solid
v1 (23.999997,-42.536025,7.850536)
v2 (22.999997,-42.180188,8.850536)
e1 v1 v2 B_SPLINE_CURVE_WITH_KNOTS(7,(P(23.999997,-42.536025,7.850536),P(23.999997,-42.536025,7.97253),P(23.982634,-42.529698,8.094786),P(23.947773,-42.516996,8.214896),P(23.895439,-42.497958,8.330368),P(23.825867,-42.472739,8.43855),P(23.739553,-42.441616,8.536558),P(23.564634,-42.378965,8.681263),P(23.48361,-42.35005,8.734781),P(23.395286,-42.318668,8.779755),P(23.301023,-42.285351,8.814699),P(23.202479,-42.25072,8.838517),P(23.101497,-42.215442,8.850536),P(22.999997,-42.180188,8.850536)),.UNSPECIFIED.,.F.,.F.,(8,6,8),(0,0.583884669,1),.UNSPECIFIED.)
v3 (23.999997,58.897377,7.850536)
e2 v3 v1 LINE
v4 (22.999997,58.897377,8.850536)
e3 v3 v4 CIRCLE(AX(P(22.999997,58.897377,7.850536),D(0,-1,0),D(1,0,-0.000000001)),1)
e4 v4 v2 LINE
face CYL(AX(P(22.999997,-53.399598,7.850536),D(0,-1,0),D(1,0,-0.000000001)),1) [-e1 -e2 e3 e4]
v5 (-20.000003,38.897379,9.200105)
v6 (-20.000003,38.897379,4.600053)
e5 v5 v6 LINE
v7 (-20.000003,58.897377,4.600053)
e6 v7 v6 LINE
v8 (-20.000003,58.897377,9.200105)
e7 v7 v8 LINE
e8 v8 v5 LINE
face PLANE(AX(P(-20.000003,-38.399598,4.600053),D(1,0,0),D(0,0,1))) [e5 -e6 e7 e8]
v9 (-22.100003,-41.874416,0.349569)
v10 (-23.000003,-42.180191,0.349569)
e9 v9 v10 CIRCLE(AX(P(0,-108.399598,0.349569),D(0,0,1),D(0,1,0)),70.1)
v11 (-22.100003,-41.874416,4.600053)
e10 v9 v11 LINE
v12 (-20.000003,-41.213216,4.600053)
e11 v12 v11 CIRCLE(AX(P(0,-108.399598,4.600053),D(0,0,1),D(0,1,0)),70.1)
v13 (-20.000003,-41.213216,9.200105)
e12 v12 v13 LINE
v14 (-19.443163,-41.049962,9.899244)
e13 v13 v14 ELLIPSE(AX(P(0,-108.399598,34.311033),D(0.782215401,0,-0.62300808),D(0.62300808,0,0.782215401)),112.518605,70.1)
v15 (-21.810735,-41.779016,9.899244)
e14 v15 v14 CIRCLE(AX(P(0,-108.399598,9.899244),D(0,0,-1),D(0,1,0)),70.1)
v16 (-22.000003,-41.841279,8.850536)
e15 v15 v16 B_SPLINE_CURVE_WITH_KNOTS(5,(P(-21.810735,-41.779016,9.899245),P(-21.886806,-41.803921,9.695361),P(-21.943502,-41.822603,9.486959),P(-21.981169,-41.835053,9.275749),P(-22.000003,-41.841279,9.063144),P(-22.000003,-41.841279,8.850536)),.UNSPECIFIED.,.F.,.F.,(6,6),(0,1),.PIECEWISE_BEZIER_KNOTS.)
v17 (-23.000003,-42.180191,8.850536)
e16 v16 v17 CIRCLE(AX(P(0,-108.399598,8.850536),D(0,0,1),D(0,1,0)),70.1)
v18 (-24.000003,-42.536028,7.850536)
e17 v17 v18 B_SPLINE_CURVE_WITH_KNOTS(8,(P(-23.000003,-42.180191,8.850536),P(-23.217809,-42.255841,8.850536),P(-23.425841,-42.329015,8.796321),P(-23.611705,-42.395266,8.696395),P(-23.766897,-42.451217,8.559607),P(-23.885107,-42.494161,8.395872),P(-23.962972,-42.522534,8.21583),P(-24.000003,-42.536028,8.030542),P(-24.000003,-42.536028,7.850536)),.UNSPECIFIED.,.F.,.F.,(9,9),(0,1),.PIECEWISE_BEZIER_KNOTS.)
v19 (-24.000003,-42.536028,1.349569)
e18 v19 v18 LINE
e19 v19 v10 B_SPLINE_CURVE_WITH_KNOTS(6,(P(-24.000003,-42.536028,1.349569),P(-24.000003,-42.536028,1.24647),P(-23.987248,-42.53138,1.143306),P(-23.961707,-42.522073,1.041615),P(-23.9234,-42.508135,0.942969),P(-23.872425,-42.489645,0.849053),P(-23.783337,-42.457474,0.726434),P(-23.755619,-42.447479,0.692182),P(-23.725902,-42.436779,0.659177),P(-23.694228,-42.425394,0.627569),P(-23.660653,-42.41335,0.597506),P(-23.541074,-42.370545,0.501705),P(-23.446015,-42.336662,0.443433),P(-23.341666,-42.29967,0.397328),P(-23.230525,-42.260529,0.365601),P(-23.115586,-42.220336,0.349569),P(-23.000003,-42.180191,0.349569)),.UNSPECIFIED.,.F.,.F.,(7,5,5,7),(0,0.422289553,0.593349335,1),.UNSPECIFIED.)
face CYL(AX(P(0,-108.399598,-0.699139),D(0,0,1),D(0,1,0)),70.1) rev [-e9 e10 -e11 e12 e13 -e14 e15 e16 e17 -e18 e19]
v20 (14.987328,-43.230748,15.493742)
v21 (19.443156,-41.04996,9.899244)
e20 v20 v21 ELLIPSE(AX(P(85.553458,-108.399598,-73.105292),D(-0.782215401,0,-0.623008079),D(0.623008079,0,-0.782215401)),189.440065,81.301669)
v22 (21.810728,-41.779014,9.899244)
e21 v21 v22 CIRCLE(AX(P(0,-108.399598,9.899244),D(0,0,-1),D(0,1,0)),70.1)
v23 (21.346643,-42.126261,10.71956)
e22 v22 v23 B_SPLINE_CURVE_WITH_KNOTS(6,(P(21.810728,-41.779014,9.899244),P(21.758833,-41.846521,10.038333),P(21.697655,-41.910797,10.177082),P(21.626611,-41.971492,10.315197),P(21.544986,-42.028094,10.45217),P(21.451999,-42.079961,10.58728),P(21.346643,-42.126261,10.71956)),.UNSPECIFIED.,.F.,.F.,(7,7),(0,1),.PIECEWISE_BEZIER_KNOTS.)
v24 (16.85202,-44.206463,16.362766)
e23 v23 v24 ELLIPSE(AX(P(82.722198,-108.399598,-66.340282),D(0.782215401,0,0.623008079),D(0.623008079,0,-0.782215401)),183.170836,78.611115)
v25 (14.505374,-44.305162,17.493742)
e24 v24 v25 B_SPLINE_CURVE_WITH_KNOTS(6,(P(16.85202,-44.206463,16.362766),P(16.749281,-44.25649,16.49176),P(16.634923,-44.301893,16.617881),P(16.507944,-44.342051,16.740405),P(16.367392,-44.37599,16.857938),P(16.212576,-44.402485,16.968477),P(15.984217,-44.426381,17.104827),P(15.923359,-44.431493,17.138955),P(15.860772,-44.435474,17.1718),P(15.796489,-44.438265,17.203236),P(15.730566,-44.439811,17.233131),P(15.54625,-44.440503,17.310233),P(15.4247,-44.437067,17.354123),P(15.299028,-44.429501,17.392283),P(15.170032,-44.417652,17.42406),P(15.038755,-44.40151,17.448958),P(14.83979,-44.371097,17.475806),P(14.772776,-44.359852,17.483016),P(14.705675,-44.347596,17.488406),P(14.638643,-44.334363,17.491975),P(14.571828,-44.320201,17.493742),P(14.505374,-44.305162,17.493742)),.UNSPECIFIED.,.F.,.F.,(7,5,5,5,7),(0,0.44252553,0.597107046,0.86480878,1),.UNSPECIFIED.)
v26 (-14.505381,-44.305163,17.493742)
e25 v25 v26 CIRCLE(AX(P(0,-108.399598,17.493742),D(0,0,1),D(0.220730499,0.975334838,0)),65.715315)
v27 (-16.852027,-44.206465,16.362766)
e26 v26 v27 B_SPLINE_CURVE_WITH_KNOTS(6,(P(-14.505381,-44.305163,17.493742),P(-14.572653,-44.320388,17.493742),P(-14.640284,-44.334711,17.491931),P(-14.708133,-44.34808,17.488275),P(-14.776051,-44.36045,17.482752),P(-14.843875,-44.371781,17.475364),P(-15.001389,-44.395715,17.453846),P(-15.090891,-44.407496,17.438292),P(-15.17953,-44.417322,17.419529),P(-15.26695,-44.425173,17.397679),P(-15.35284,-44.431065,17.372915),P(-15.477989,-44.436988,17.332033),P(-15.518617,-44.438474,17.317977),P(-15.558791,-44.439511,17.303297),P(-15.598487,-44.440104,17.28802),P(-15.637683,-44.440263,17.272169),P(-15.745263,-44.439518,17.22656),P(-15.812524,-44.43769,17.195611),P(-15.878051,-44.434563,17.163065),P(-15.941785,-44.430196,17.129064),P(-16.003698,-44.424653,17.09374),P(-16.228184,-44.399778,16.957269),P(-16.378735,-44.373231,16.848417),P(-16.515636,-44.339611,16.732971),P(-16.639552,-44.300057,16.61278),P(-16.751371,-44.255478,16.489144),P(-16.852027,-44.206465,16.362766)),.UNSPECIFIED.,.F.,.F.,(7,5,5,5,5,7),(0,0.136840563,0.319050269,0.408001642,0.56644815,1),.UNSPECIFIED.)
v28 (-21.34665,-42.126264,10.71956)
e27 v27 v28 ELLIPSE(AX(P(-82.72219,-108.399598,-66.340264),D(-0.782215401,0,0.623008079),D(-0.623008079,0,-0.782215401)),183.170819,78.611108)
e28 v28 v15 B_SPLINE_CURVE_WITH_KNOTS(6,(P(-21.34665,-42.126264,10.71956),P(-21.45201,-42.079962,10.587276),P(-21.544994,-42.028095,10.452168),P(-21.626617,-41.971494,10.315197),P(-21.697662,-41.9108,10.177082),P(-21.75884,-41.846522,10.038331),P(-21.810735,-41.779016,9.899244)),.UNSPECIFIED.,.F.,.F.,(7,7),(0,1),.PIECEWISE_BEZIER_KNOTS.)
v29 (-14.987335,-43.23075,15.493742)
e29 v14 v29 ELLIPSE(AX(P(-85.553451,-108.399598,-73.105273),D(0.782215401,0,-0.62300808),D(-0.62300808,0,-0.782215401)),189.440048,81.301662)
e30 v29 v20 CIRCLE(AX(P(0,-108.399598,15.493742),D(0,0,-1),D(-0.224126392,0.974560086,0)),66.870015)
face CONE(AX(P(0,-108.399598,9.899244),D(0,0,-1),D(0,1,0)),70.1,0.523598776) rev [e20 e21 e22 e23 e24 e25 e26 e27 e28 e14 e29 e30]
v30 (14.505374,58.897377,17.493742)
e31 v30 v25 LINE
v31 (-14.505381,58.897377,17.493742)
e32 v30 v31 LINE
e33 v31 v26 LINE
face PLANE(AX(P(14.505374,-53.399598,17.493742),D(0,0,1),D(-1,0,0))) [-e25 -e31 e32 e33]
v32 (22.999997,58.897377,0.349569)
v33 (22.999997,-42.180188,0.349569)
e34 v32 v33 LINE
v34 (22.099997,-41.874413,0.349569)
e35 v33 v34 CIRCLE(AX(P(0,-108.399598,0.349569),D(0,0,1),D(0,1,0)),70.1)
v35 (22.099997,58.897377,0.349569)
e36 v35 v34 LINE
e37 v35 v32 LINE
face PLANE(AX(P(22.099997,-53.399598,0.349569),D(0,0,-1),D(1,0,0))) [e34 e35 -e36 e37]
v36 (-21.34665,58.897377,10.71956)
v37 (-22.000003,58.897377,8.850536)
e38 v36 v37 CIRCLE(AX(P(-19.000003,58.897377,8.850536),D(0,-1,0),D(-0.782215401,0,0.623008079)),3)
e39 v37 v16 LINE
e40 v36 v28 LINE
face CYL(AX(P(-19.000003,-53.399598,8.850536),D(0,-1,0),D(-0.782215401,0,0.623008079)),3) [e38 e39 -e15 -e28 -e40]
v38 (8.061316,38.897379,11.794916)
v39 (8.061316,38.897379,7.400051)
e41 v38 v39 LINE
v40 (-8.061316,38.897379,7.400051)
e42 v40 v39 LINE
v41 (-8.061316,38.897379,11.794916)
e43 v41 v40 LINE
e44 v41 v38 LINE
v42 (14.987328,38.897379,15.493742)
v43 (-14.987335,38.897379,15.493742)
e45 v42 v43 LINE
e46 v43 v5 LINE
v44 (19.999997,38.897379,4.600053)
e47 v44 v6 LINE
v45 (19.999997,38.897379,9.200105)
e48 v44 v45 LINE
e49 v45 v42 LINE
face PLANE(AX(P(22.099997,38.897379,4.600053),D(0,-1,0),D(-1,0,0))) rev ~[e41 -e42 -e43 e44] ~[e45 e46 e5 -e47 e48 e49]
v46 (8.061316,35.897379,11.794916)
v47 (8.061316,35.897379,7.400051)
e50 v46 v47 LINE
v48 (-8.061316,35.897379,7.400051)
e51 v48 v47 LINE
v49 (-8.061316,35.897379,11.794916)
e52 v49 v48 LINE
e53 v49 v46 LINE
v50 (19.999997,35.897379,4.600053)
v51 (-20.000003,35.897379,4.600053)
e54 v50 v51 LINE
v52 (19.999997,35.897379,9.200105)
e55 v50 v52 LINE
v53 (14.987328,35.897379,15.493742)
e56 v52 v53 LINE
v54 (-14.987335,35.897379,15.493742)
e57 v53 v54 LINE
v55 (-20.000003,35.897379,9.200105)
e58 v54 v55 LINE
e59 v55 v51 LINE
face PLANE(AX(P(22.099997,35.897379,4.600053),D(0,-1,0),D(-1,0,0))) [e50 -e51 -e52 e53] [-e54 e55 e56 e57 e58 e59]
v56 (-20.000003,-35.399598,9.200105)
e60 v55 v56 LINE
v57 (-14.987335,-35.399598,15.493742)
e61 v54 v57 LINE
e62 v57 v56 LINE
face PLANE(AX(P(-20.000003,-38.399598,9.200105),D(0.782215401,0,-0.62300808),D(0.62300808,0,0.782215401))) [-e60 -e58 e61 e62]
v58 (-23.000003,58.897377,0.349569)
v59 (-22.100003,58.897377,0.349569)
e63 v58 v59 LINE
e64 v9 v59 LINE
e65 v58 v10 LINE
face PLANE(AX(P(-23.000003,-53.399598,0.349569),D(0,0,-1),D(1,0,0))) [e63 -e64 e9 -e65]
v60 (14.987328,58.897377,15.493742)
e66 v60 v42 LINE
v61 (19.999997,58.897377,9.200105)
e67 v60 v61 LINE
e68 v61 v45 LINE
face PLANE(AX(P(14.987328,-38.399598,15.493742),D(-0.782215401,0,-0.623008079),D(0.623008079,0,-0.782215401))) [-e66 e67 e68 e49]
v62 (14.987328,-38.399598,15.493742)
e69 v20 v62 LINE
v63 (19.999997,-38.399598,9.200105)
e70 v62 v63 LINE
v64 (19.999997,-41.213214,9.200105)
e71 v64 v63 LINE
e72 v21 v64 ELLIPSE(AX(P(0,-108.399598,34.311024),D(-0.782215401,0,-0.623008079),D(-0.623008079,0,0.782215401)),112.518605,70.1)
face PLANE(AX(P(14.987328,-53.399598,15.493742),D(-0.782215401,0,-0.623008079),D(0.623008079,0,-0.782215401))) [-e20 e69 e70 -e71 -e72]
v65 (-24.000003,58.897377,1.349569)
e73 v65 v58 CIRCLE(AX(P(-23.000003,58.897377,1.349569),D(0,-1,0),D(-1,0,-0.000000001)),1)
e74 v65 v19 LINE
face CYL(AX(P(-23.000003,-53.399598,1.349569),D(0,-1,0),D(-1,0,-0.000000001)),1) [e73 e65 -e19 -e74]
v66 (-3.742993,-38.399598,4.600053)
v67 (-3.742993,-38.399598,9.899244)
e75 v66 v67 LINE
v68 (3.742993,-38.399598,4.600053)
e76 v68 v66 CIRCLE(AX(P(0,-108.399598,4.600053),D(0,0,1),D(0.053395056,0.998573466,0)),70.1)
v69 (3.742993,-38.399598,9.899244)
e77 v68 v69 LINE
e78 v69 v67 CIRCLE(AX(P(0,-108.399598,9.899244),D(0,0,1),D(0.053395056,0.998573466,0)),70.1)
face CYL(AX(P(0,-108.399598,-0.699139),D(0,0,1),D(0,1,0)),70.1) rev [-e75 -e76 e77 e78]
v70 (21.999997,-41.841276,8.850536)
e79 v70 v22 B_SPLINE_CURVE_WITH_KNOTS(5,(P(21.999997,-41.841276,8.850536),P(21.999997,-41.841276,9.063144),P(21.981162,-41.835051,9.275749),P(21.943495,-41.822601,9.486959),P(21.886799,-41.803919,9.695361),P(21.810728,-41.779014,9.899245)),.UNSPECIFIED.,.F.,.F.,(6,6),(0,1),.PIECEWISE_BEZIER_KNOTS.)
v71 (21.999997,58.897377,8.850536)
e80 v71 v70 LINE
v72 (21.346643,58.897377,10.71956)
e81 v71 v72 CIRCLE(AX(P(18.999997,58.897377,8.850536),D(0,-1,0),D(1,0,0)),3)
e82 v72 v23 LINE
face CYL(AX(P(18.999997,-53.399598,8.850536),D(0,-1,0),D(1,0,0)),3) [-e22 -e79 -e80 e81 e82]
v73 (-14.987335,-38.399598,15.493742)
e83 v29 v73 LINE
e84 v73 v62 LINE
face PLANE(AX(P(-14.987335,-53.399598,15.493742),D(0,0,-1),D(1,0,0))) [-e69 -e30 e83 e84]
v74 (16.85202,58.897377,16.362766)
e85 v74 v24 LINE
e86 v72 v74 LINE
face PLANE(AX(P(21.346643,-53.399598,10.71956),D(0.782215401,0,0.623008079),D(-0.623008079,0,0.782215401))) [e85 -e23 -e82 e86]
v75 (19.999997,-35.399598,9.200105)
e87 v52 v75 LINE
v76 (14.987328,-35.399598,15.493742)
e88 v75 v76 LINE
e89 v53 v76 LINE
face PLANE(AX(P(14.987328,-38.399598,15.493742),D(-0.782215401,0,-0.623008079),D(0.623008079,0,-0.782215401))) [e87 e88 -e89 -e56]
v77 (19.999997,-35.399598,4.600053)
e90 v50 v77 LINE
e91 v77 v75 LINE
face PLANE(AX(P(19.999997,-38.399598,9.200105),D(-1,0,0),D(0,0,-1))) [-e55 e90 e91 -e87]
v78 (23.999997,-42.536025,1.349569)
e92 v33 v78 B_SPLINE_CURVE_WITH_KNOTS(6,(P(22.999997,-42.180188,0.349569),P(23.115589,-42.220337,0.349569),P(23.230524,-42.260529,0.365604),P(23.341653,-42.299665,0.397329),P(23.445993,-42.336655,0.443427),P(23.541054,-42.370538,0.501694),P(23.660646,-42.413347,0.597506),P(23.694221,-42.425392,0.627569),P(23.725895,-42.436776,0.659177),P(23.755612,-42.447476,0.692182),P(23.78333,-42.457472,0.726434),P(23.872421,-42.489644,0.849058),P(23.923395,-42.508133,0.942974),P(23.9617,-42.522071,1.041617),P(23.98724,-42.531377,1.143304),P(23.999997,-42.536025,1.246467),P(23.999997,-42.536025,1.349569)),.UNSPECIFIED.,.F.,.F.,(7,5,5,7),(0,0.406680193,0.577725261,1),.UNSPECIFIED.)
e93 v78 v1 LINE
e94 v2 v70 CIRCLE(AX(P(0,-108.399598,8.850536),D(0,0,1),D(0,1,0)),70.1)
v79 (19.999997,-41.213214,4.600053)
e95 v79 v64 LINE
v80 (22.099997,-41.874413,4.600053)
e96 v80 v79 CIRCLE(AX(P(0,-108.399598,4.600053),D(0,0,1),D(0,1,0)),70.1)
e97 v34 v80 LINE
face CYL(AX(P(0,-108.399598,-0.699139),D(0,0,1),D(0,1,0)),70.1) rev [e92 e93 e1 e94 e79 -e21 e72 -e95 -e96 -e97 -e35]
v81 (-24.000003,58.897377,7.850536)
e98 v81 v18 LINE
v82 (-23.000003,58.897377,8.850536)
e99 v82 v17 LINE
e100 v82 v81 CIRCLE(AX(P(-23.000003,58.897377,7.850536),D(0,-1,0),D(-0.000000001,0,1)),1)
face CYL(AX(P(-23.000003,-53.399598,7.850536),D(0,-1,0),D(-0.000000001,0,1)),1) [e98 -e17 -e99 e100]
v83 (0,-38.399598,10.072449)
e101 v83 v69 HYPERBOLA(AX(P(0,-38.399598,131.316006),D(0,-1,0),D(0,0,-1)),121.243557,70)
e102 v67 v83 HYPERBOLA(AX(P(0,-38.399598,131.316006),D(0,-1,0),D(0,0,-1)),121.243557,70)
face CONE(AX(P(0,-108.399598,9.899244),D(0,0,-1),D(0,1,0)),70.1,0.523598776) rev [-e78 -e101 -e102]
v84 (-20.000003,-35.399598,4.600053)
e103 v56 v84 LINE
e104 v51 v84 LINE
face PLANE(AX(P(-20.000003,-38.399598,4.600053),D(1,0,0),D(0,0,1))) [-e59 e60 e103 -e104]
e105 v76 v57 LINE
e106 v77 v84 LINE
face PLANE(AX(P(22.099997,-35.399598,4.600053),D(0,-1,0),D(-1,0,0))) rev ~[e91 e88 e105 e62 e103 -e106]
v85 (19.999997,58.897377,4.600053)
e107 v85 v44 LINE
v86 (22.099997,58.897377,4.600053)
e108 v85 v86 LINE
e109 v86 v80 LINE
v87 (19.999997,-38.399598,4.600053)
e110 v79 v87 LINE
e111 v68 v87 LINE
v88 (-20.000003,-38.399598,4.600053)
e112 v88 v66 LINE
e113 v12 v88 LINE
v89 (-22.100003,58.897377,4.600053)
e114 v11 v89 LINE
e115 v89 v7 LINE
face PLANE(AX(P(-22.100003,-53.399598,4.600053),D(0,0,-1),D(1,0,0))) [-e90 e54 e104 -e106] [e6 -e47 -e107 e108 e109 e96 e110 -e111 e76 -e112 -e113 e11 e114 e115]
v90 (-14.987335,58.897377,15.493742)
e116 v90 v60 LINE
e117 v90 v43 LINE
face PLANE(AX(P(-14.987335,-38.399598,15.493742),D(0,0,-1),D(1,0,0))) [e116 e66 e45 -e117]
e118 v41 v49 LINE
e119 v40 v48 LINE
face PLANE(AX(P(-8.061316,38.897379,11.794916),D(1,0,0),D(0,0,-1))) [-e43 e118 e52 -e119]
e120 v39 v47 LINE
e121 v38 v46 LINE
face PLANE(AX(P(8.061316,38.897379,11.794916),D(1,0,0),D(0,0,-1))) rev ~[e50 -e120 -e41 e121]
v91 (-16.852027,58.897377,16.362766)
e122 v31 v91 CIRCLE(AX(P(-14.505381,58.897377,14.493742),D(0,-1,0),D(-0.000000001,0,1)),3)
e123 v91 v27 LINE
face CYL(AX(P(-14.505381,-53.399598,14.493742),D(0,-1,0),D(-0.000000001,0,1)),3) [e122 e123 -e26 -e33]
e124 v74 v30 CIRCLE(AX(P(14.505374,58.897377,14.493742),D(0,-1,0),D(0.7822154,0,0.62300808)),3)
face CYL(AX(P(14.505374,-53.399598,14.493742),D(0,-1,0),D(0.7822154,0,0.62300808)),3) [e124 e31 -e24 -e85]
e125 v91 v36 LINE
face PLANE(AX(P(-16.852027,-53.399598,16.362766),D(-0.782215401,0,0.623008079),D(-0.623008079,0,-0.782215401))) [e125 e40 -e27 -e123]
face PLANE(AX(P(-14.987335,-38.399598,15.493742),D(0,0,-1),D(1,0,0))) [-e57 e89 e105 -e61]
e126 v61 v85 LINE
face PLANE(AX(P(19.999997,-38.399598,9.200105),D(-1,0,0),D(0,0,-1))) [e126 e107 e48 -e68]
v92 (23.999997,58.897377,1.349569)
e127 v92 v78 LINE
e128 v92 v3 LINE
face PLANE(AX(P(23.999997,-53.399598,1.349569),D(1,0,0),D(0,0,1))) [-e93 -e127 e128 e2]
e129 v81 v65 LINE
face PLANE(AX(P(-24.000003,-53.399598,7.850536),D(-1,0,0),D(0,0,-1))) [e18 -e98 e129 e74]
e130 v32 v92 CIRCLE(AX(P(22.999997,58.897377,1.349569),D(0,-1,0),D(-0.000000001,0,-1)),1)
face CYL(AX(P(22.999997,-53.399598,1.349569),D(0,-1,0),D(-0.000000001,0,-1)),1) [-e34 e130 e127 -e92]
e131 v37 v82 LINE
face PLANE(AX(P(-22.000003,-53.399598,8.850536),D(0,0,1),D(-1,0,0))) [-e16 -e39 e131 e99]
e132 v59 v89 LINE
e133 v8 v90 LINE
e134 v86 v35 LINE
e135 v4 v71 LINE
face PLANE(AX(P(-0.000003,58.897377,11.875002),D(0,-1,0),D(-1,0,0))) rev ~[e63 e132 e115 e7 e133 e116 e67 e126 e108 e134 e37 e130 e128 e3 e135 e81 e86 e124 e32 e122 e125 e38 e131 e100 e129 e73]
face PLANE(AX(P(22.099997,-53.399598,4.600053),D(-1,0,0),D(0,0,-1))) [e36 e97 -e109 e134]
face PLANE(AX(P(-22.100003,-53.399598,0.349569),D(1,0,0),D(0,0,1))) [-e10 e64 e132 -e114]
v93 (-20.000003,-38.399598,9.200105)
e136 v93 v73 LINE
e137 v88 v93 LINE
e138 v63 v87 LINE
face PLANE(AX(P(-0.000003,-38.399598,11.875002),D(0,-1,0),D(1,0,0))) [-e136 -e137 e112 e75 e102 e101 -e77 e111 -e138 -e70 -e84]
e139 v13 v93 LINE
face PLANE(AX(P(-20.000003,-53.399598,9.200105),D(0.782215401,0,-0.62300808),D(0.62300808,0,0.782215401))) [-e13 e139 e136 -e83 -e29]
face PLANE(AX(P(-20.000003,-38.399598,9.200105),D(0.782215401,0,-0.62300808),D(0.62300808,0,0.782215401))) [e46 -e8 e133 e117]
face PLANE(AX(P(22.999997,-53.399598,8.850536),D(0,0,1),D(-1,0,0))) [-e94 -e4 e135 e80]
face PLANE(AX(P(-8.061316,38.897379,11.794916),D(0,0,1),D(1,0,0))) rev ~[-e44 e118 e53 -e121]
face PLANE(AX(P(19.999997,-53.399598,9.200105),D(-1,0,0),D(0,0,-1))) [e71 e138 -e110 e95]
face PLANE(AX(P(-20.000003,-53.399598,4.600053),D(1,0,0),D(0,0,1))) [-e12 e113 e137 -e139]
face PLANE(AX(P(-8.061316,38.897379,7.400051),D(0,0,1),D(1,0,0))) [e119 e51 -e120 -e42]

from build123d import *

# Parameters (mm, degrees)
EXTRUDE_1_DEPTH     = 58.89737674
EXTRUDE_START       = 38.399597665
EXTRUDE_2_DEPTH     = 38.399597665
EXTRUDE_3_REACH     = 66.893
SKETCH_3_W          = 44.2
SKETCH_3_H          = 3
EXTRUDE_4_REACH     = 66.893
SKETCH_4_W          = 44.2
SKETCH_4_H          = 3
CUT_EXTRUDE_START   = -77.29697691
CUT_EXTRUDE_1_DEPTH = 77.29697691
SKETCH_6_W          = 16.122631446
SKETCH_6_H          = 4.394864928
CUT_EXTRUDE_2_DEPTH = 3
EXTRUDE_START_2     = 15
EXTRUDE_5_DEPTH     = 15


with BuildPart() as part:
    # 草图1 → 凸台-拉伸1 (new body)
    with BuildSketch(Plane(origin=(0, 0, 0), x_dir=(1, 0, 0), z_dir=(0, 1, 0))):
        with BuildLine():
            Line((21.346642729, -10.719560241), (16.852020459, -16.362765964))
            ThreePointArc((16.852020459, -16.362765964), (15.807857901, -17.196247295), (14.505374257, -17.493741725))
            Line((14.505374257, -17.493741725), (-14.505381202, -17.493741725))
            ThreePointArc((-14.505381202, -17.493741725), (-15.807864846, -17.196247295), (-16.852027404, -16.362765964))
            Line((-16.852027404, -16.362765964), (-21.346649674, -10.719560241))
            ThreePointArc((-21.346649674, -10.719560241), (-21.831958504, -9.840501001), (-22.000003473, -8.850536003))
            Line((-22.000003473, -8.850536003), (-23.000003473, -8.850536003))
            ThreePointArc((-23.000003473, -8.850536003), (-23.707110254, -8.557642784), (-24.000003473, -7.850536003))
            Line((-24.000003473, -7.850536003), (-24.000003473, -1.349569462))
            ThreePointArc((-24.000003473, -1.349569462), (-23.707110254, -0.642462681), (-23.000003473, -0.349569462))
            Line((-23.000003473, -0.349569462), (-22.100003473, -0.349569462))
            Line((-22.100003473, -0.349569462), (-22.100003473, -4.600052733))
            Line((-22.100003473, -4.600052733), (-22.000003473, -4.600052733))
            Line((-22.000003473, -4.600052733), (-20.000003473, -4.600052733))
            Line((-20.000003473, -4.600052733), (-20.000003473, -9.200105465))
            Line((-20.000003473, -9.200105465), (-14.987335304, -15.493741725))
            Line((-14.987335304, -15.493741725), (14.987328359, -15.493741725))
            Line((14.987328359, -15.493741725), (19.999996527, -9.200105465))
            Line((19.999996527, -9.200105465), (19.999996527, -4.600052733))
            Line((19.999996527, -4.600052733), (21.999996527, -4.600052733))
            Line((21.999996527, -4.600052733), (22.099996527, -4.600052733))
            Line((22.099996527, -4.600052733), (22.099996527, -0.349569462))
            Line((22.099996527, -0.349569462), (22.999996527, -0.349569462))
            ThreePointArc((22.999996527, -0.349569462), (23.707103309, -0.642462681), (23.999996527, -1.349569462))
            Line((23.999996527, -1.349569462), (23.999996527, -7.850536003))
            ThreePointArc((23.999996527, -7.850536003), (23.707103309, -8.557642784), (22.999996527, -8.850536003))
            Line((22.999996527, -8.850536003), (21.999996527, -8.850536003))
            ThreePointArc((21.999996527, -8.850536003), (21.831951559, -9.840501001), (21.346642729, -10.719560241))
        make_face()
    extrude(amount=EXTRUDE_1_DEPTH)

    # 草图2 → 凸台-拉伸2 (add)
    with BuildSketch(Plane.XZ.offset(EXTRUDE_START)):
        with BuildLine():
            Line((22.999996527, 8.850536003), (21.999996527, 8.850536003))
            ThreePointArc((21.999996527, 8.850536003), (21.831951559, 9.840501001), (21.346642729, 10.719560241))
            Line((21.346642729, 10.719560241), (16.852020459, 16.362765964))
            ThreePointArc((16.852020459, 16.362765964), (15.807857901, 17.196247295), (14.505374257, 17.493741725))
            Line((14.505374257, 17.493741725), (-14.505381202, 17.493741725))
            ThreePointArc((-14.505381202, 17.493741725), (-15.807864846, 17.196247295), (-16.852027404, 16.362765964))
            Line((-16.852027404, 16.362765964), (-21.346649674, 10.719560241))
            ThreePointArc((-21.346649674, 10.719560241), (-21.831958504, 9.840501001), (-22.000003473, 8.850536003))
            Line((-22.000003473, 8.850536003), (-23.000003473, 8.850536003))
            ThreePointArc((-23.000003473, 8.850536003), (-23.707110254, 8.557642784), (-24.000003473, 7.850536003))
            Line((-24.000003473, 7.850536003), (-24.000003473, 1.349569462))
            ThreePointArc((-24.000003473, 1.349569462), (-23.707110254, 0.642462681), (-23.000003473, 0.349569462))
            Line((-23.000003473, 0.349569462), (-22.100003473, 0.349569462))
            Line((-22.100003473, 0.349569462), (-22.100003473, 4.600052733))
            Line((-22.100003473, 4.600052733), (-20.000003473, 4.600052733))
            Line((-20.000003473, 4.600052733), (-20.000003473, 9.200105465))
            Line((-20.000003473, 9.200105465), (-14.987335304, 15.493741725))
            Line((-14.987335304, 15.493741725), (14.987328359, 15.493741725))
            Line((14.987328359, 15.493741725), (19.999996527, 9.200105465))
            Line((19.999996527, 9.200105465), (19.999996527, 4.600052733))
            Line((19.999996527, 4.600052733), (22.099996527, 4.600052733))
            Line((22.099996527, 4.600052733), (22.099996527, 0.349569462))
            Line((22.099996527, 0.349569462), (22.999996527, 0.349569462))
            ThreePointArc((22.999996527, 0.349569462), (23.707103309, 0.642462681), (23.999996527, 1.349569462))
            Line((23.999996527, 1.349569462), (23.999996527, 7.850536003))
            ThreePointArc((23.999996527, 7.850536003), (23.707103309, 8.557642784), (22.999996527, 8.850536003))
        make_face()
    extrude(amount=-EXTRUDE_2_DEPTH)

    # 凸台-拉伸3: up to this face of the body (flat: up to its plane)
    extrude_3_end = Plane(part.part.faces().sort_by_distance((-3.473e-06, 10.248889538, 17.493741725))[0])
    # 草图3 → 凸台-拉伸3 (add, up to the picked face)
    with BuildSketch(Plane(origin=(0, 0, 4.600052733), x_dir=(-1, 0, 0), z_dir=(0, 0, -1)), mode=Mode.PRIVATE) as extrude_3_sk1:
        with Locations((3.473e-06, -36.899597665)):
            Rectangle(SKETCH_3_W, SKETCH_3_H)
    extrude_3_tool1 = split(extrude(extrude_3_sk1.sketch, amount=-EXTRUDE_3_REACH, mode=Mode.PRIVATE), bisect_by=extrude_3_end, keep=Keep.BOTH, mode=Mode.PRIVATE)
    add(extrude_3_tool1.solids().sort_by(Axis((-3e-06, -36.899598, 4.600053), (0, 0, 1)))[0])

    # 凸台-拉伸4: up to this face of the body (flat: up to its plane)
    extrude_4_end = Plane(part.part.faces().sort_by_distance((-3.473e-06, 9.499837909, 17.493741725))[0])
    # 草图4 → 凸台-拉伸4 (add, up to the picked face)
    with BuildSketch(Plane(origin=(0, 0, 4.600052733), x_dir=(-1, 0, 0), z_dir=(0, 0, -1)), mode=Mode.PRIVATE) as extrude_4_sk1:
        with Locations((3.473e-06, 37.397379245)):
            Rectangle(SKETCH_4_W, SKETCH_4_H)
    extrude_4_tool1 = split(extrude(extrude_4_sk1.sketch, amount=-EXTRUDE_4_REACH, mode=Mode.PRIVATE), bisect_by=extrude_4_end, keep=Keep.BOTH, mode=Mode.PRIVATE)
    add(extrude_4_tool1.solids().sort_by(Axis((-3e-06, 37.397379, 4.600053), (0, 0, 1)))[0])

    # 草图5 → 切除-拉伸1 (cut)
    with BuildSketch(Plane(origin=(0, 38.897379245, 0), x_dir=(1, 0, 0), z_dir=(0, 1, 0)).offset(CUT_EXTRUDE_START)):
        with BuildLine():
            Line((-22.100003473, -8.850536003), (-22.100003473, -17.493741725))
            Line((-22.100003473, -17.493741725), (-14.505381202, -17.493741725))
            ThreePointArc((-14.505381202, -17.493741725), (-15.807864846, -17.196247295), (-16.852027404, -16.362765964))
            Line((-16.852027404, -16.362765964), (-21.346649674, -10.719560241))
            ThreePointArc((-21.346649674, -10.719560241), (-21.831958504, -9.840501001), (-22.000003473, -8.850536003))
            Line((-22.000003473, -8.850536003), (-22.100003473, -8.850536003))
        make_face()
        with BuildLine():
            Line((14.505374257, -17.493741725), (22.099996527, -17.493741725))
            Line((22.099996527, -17.493741725), (22.099996527, -8.850536003))
            Line((22.099996527, -8.850536003), (21.999996527, -8.850536003))
            ThreePointArc((21.999996527, -8.850536003), (21.831951559, -9.840501001), (21.346642729, -10.719560241))
            Line((21.346642729, -10.719560241), (16.852020459, -16.362765964))
            ThreePointArc((16.852020459, -16.362765964), (15.807857901, -17.196247295), (14.505374257, -17.493741725))
        make_face()
    extrude(amount=CUT_EXTRUDE_1_DEPTH, mode=Mode.SUBTRACT)

    # 草图6 → 切除-拉伸2 (cut)
    with BuildSketch(Plane(origin=(0, 38.897379245, 0), x_dir=(1, 0, 0), z_dir=(0, 1, 0))):
        with Locations((0, -9.597483264)):
            Rectangle(SKETCH_6_W, SKETCH_6_H)
    extrude(amount=-CUT_EXTRUDE_2_DEPTH, mode=Mode.SUBTRACT)

    # 草图7 → 凸台-拉伸5 (add)
    with BuildSketch(Plane(origin=(0, -38.399597665, 0), x_dir=(-1, 0, 0), z_dir=(0, -1, 0)).offset(EXTRUDE_START_2)):
        with BuildLine():
            Line((20.000003473, -4.600052733), (20.000003473, -9.200105465))
            Line((20.000003473, -9.200105465), (14.987335304, -15.493741725))
            Line((14.987335304, -15.493741725), (-14.987328359, -15.493741725))
            Line((-14.987328359, -15.493741725), (-19.999996527, -9.200105465))
            Line((-19.999996527, -9.200105465), (-19.999996527, -4.600052733))
            Line((-19.999996527, -4.600052733), (-21.999996527, -4.600052733))
            Line((-21.999996527, -4.600052733), (-22.099996527, -4.600052733))
            Line((-22.099996527, -4.600052733), (-22.099996527, -0.349569462))
            Line((-22.099996527, -0.349569462), (-22.999996527, -0.349569462))
            ThreePointArc((-22.999996527, -0.349569462), (-23.707103309, -0.642462681), (-23.999996527, -1.349569462))
            Line((-23.999996527, -1.349569462), (-23.999996527, -7.850536003))
            ThreePointArc((-23.999996527, -7.850536003), (-23.707103309, -8.557642784), (-22.999996527, -8.850536003))
            Line((-22.999996527, -8.850536003), (-21.999996527, -8.850536003))
            ThreePointArc((-21.999996527, -8.850536003), (-21.831951559, -9.840501001), (-21.346642729, -10.719560241))
            Line((-21.346642729, -10.719560241), (-16.852020459, -16.362765964))
            ThreePointArc((-16.852020459, -16.362765964), (-15.807857901, -17.196247295), (-14.505374257, -17.493741725))
            Line((-14.505374257, -17.493741725), (14.505381202, -17.493741725))
            ThreePointArc((14.505381202, -17.493741725), (15.807864846, -17.196247295), (16.852027404, -16.362765964))
            Line((16.852027404, -16.362765964), (21.346649674, -10.719560241))
            ThreePointArc((21.346649674, -10.719560241), (21.831958504, -9.840501001), (22.000003473, -8.850536003))
            Line((22.000003473, -8.850536003), (23.000003473, -8.850536003))
            ThreePointArc((23.000003473, -8.850536003), (23.707110254, -8.557642784), (24.000003473, -7.850536003))
            Line((24.000003473, -7.850536003), (24.000003473, -1.349569462))
            ThreePointArc((24.000003473, -1.349569462), (23.707110254, -0.642462681), (23.000003473, -0.349569462))
            Line((23.000003473, -0.349569462), (22.100003473, -0.349569462))
            Line((22.100003473, -0.349569462), (22.100003473, -4.600052733))
            Line((22.100003473, -4.600052733), (22.000003473, -4.600052733))
            Line((22.000003473, -4.600052733), (20.000003473, -4.600052733))
        make_face()
    extrude(amount=-EXTRUDE_5_DEPTH)

    # 草图8 → 切除-旋转1 (revolve, cut)
    with BuildSketch(Plane(origin=(0, 0, 0), x_dir=(0, 0, -1), z_dir=(1, 0, 0))):
        Polygon((-9.89924439, -38.299597665), (-20.291549236, -44.299597665), (-20.291549236, -55.801852499), (11.09144377, -55.801852499), (11.09144377, -44.299597665), (0.699138925, -38.299597665), align=None)
    revolve(axis=Axis((0, -108.399597665, 9.89924439), (0, 0, -1)), mode=Mode.SUBTRACT)


solid = part.part
